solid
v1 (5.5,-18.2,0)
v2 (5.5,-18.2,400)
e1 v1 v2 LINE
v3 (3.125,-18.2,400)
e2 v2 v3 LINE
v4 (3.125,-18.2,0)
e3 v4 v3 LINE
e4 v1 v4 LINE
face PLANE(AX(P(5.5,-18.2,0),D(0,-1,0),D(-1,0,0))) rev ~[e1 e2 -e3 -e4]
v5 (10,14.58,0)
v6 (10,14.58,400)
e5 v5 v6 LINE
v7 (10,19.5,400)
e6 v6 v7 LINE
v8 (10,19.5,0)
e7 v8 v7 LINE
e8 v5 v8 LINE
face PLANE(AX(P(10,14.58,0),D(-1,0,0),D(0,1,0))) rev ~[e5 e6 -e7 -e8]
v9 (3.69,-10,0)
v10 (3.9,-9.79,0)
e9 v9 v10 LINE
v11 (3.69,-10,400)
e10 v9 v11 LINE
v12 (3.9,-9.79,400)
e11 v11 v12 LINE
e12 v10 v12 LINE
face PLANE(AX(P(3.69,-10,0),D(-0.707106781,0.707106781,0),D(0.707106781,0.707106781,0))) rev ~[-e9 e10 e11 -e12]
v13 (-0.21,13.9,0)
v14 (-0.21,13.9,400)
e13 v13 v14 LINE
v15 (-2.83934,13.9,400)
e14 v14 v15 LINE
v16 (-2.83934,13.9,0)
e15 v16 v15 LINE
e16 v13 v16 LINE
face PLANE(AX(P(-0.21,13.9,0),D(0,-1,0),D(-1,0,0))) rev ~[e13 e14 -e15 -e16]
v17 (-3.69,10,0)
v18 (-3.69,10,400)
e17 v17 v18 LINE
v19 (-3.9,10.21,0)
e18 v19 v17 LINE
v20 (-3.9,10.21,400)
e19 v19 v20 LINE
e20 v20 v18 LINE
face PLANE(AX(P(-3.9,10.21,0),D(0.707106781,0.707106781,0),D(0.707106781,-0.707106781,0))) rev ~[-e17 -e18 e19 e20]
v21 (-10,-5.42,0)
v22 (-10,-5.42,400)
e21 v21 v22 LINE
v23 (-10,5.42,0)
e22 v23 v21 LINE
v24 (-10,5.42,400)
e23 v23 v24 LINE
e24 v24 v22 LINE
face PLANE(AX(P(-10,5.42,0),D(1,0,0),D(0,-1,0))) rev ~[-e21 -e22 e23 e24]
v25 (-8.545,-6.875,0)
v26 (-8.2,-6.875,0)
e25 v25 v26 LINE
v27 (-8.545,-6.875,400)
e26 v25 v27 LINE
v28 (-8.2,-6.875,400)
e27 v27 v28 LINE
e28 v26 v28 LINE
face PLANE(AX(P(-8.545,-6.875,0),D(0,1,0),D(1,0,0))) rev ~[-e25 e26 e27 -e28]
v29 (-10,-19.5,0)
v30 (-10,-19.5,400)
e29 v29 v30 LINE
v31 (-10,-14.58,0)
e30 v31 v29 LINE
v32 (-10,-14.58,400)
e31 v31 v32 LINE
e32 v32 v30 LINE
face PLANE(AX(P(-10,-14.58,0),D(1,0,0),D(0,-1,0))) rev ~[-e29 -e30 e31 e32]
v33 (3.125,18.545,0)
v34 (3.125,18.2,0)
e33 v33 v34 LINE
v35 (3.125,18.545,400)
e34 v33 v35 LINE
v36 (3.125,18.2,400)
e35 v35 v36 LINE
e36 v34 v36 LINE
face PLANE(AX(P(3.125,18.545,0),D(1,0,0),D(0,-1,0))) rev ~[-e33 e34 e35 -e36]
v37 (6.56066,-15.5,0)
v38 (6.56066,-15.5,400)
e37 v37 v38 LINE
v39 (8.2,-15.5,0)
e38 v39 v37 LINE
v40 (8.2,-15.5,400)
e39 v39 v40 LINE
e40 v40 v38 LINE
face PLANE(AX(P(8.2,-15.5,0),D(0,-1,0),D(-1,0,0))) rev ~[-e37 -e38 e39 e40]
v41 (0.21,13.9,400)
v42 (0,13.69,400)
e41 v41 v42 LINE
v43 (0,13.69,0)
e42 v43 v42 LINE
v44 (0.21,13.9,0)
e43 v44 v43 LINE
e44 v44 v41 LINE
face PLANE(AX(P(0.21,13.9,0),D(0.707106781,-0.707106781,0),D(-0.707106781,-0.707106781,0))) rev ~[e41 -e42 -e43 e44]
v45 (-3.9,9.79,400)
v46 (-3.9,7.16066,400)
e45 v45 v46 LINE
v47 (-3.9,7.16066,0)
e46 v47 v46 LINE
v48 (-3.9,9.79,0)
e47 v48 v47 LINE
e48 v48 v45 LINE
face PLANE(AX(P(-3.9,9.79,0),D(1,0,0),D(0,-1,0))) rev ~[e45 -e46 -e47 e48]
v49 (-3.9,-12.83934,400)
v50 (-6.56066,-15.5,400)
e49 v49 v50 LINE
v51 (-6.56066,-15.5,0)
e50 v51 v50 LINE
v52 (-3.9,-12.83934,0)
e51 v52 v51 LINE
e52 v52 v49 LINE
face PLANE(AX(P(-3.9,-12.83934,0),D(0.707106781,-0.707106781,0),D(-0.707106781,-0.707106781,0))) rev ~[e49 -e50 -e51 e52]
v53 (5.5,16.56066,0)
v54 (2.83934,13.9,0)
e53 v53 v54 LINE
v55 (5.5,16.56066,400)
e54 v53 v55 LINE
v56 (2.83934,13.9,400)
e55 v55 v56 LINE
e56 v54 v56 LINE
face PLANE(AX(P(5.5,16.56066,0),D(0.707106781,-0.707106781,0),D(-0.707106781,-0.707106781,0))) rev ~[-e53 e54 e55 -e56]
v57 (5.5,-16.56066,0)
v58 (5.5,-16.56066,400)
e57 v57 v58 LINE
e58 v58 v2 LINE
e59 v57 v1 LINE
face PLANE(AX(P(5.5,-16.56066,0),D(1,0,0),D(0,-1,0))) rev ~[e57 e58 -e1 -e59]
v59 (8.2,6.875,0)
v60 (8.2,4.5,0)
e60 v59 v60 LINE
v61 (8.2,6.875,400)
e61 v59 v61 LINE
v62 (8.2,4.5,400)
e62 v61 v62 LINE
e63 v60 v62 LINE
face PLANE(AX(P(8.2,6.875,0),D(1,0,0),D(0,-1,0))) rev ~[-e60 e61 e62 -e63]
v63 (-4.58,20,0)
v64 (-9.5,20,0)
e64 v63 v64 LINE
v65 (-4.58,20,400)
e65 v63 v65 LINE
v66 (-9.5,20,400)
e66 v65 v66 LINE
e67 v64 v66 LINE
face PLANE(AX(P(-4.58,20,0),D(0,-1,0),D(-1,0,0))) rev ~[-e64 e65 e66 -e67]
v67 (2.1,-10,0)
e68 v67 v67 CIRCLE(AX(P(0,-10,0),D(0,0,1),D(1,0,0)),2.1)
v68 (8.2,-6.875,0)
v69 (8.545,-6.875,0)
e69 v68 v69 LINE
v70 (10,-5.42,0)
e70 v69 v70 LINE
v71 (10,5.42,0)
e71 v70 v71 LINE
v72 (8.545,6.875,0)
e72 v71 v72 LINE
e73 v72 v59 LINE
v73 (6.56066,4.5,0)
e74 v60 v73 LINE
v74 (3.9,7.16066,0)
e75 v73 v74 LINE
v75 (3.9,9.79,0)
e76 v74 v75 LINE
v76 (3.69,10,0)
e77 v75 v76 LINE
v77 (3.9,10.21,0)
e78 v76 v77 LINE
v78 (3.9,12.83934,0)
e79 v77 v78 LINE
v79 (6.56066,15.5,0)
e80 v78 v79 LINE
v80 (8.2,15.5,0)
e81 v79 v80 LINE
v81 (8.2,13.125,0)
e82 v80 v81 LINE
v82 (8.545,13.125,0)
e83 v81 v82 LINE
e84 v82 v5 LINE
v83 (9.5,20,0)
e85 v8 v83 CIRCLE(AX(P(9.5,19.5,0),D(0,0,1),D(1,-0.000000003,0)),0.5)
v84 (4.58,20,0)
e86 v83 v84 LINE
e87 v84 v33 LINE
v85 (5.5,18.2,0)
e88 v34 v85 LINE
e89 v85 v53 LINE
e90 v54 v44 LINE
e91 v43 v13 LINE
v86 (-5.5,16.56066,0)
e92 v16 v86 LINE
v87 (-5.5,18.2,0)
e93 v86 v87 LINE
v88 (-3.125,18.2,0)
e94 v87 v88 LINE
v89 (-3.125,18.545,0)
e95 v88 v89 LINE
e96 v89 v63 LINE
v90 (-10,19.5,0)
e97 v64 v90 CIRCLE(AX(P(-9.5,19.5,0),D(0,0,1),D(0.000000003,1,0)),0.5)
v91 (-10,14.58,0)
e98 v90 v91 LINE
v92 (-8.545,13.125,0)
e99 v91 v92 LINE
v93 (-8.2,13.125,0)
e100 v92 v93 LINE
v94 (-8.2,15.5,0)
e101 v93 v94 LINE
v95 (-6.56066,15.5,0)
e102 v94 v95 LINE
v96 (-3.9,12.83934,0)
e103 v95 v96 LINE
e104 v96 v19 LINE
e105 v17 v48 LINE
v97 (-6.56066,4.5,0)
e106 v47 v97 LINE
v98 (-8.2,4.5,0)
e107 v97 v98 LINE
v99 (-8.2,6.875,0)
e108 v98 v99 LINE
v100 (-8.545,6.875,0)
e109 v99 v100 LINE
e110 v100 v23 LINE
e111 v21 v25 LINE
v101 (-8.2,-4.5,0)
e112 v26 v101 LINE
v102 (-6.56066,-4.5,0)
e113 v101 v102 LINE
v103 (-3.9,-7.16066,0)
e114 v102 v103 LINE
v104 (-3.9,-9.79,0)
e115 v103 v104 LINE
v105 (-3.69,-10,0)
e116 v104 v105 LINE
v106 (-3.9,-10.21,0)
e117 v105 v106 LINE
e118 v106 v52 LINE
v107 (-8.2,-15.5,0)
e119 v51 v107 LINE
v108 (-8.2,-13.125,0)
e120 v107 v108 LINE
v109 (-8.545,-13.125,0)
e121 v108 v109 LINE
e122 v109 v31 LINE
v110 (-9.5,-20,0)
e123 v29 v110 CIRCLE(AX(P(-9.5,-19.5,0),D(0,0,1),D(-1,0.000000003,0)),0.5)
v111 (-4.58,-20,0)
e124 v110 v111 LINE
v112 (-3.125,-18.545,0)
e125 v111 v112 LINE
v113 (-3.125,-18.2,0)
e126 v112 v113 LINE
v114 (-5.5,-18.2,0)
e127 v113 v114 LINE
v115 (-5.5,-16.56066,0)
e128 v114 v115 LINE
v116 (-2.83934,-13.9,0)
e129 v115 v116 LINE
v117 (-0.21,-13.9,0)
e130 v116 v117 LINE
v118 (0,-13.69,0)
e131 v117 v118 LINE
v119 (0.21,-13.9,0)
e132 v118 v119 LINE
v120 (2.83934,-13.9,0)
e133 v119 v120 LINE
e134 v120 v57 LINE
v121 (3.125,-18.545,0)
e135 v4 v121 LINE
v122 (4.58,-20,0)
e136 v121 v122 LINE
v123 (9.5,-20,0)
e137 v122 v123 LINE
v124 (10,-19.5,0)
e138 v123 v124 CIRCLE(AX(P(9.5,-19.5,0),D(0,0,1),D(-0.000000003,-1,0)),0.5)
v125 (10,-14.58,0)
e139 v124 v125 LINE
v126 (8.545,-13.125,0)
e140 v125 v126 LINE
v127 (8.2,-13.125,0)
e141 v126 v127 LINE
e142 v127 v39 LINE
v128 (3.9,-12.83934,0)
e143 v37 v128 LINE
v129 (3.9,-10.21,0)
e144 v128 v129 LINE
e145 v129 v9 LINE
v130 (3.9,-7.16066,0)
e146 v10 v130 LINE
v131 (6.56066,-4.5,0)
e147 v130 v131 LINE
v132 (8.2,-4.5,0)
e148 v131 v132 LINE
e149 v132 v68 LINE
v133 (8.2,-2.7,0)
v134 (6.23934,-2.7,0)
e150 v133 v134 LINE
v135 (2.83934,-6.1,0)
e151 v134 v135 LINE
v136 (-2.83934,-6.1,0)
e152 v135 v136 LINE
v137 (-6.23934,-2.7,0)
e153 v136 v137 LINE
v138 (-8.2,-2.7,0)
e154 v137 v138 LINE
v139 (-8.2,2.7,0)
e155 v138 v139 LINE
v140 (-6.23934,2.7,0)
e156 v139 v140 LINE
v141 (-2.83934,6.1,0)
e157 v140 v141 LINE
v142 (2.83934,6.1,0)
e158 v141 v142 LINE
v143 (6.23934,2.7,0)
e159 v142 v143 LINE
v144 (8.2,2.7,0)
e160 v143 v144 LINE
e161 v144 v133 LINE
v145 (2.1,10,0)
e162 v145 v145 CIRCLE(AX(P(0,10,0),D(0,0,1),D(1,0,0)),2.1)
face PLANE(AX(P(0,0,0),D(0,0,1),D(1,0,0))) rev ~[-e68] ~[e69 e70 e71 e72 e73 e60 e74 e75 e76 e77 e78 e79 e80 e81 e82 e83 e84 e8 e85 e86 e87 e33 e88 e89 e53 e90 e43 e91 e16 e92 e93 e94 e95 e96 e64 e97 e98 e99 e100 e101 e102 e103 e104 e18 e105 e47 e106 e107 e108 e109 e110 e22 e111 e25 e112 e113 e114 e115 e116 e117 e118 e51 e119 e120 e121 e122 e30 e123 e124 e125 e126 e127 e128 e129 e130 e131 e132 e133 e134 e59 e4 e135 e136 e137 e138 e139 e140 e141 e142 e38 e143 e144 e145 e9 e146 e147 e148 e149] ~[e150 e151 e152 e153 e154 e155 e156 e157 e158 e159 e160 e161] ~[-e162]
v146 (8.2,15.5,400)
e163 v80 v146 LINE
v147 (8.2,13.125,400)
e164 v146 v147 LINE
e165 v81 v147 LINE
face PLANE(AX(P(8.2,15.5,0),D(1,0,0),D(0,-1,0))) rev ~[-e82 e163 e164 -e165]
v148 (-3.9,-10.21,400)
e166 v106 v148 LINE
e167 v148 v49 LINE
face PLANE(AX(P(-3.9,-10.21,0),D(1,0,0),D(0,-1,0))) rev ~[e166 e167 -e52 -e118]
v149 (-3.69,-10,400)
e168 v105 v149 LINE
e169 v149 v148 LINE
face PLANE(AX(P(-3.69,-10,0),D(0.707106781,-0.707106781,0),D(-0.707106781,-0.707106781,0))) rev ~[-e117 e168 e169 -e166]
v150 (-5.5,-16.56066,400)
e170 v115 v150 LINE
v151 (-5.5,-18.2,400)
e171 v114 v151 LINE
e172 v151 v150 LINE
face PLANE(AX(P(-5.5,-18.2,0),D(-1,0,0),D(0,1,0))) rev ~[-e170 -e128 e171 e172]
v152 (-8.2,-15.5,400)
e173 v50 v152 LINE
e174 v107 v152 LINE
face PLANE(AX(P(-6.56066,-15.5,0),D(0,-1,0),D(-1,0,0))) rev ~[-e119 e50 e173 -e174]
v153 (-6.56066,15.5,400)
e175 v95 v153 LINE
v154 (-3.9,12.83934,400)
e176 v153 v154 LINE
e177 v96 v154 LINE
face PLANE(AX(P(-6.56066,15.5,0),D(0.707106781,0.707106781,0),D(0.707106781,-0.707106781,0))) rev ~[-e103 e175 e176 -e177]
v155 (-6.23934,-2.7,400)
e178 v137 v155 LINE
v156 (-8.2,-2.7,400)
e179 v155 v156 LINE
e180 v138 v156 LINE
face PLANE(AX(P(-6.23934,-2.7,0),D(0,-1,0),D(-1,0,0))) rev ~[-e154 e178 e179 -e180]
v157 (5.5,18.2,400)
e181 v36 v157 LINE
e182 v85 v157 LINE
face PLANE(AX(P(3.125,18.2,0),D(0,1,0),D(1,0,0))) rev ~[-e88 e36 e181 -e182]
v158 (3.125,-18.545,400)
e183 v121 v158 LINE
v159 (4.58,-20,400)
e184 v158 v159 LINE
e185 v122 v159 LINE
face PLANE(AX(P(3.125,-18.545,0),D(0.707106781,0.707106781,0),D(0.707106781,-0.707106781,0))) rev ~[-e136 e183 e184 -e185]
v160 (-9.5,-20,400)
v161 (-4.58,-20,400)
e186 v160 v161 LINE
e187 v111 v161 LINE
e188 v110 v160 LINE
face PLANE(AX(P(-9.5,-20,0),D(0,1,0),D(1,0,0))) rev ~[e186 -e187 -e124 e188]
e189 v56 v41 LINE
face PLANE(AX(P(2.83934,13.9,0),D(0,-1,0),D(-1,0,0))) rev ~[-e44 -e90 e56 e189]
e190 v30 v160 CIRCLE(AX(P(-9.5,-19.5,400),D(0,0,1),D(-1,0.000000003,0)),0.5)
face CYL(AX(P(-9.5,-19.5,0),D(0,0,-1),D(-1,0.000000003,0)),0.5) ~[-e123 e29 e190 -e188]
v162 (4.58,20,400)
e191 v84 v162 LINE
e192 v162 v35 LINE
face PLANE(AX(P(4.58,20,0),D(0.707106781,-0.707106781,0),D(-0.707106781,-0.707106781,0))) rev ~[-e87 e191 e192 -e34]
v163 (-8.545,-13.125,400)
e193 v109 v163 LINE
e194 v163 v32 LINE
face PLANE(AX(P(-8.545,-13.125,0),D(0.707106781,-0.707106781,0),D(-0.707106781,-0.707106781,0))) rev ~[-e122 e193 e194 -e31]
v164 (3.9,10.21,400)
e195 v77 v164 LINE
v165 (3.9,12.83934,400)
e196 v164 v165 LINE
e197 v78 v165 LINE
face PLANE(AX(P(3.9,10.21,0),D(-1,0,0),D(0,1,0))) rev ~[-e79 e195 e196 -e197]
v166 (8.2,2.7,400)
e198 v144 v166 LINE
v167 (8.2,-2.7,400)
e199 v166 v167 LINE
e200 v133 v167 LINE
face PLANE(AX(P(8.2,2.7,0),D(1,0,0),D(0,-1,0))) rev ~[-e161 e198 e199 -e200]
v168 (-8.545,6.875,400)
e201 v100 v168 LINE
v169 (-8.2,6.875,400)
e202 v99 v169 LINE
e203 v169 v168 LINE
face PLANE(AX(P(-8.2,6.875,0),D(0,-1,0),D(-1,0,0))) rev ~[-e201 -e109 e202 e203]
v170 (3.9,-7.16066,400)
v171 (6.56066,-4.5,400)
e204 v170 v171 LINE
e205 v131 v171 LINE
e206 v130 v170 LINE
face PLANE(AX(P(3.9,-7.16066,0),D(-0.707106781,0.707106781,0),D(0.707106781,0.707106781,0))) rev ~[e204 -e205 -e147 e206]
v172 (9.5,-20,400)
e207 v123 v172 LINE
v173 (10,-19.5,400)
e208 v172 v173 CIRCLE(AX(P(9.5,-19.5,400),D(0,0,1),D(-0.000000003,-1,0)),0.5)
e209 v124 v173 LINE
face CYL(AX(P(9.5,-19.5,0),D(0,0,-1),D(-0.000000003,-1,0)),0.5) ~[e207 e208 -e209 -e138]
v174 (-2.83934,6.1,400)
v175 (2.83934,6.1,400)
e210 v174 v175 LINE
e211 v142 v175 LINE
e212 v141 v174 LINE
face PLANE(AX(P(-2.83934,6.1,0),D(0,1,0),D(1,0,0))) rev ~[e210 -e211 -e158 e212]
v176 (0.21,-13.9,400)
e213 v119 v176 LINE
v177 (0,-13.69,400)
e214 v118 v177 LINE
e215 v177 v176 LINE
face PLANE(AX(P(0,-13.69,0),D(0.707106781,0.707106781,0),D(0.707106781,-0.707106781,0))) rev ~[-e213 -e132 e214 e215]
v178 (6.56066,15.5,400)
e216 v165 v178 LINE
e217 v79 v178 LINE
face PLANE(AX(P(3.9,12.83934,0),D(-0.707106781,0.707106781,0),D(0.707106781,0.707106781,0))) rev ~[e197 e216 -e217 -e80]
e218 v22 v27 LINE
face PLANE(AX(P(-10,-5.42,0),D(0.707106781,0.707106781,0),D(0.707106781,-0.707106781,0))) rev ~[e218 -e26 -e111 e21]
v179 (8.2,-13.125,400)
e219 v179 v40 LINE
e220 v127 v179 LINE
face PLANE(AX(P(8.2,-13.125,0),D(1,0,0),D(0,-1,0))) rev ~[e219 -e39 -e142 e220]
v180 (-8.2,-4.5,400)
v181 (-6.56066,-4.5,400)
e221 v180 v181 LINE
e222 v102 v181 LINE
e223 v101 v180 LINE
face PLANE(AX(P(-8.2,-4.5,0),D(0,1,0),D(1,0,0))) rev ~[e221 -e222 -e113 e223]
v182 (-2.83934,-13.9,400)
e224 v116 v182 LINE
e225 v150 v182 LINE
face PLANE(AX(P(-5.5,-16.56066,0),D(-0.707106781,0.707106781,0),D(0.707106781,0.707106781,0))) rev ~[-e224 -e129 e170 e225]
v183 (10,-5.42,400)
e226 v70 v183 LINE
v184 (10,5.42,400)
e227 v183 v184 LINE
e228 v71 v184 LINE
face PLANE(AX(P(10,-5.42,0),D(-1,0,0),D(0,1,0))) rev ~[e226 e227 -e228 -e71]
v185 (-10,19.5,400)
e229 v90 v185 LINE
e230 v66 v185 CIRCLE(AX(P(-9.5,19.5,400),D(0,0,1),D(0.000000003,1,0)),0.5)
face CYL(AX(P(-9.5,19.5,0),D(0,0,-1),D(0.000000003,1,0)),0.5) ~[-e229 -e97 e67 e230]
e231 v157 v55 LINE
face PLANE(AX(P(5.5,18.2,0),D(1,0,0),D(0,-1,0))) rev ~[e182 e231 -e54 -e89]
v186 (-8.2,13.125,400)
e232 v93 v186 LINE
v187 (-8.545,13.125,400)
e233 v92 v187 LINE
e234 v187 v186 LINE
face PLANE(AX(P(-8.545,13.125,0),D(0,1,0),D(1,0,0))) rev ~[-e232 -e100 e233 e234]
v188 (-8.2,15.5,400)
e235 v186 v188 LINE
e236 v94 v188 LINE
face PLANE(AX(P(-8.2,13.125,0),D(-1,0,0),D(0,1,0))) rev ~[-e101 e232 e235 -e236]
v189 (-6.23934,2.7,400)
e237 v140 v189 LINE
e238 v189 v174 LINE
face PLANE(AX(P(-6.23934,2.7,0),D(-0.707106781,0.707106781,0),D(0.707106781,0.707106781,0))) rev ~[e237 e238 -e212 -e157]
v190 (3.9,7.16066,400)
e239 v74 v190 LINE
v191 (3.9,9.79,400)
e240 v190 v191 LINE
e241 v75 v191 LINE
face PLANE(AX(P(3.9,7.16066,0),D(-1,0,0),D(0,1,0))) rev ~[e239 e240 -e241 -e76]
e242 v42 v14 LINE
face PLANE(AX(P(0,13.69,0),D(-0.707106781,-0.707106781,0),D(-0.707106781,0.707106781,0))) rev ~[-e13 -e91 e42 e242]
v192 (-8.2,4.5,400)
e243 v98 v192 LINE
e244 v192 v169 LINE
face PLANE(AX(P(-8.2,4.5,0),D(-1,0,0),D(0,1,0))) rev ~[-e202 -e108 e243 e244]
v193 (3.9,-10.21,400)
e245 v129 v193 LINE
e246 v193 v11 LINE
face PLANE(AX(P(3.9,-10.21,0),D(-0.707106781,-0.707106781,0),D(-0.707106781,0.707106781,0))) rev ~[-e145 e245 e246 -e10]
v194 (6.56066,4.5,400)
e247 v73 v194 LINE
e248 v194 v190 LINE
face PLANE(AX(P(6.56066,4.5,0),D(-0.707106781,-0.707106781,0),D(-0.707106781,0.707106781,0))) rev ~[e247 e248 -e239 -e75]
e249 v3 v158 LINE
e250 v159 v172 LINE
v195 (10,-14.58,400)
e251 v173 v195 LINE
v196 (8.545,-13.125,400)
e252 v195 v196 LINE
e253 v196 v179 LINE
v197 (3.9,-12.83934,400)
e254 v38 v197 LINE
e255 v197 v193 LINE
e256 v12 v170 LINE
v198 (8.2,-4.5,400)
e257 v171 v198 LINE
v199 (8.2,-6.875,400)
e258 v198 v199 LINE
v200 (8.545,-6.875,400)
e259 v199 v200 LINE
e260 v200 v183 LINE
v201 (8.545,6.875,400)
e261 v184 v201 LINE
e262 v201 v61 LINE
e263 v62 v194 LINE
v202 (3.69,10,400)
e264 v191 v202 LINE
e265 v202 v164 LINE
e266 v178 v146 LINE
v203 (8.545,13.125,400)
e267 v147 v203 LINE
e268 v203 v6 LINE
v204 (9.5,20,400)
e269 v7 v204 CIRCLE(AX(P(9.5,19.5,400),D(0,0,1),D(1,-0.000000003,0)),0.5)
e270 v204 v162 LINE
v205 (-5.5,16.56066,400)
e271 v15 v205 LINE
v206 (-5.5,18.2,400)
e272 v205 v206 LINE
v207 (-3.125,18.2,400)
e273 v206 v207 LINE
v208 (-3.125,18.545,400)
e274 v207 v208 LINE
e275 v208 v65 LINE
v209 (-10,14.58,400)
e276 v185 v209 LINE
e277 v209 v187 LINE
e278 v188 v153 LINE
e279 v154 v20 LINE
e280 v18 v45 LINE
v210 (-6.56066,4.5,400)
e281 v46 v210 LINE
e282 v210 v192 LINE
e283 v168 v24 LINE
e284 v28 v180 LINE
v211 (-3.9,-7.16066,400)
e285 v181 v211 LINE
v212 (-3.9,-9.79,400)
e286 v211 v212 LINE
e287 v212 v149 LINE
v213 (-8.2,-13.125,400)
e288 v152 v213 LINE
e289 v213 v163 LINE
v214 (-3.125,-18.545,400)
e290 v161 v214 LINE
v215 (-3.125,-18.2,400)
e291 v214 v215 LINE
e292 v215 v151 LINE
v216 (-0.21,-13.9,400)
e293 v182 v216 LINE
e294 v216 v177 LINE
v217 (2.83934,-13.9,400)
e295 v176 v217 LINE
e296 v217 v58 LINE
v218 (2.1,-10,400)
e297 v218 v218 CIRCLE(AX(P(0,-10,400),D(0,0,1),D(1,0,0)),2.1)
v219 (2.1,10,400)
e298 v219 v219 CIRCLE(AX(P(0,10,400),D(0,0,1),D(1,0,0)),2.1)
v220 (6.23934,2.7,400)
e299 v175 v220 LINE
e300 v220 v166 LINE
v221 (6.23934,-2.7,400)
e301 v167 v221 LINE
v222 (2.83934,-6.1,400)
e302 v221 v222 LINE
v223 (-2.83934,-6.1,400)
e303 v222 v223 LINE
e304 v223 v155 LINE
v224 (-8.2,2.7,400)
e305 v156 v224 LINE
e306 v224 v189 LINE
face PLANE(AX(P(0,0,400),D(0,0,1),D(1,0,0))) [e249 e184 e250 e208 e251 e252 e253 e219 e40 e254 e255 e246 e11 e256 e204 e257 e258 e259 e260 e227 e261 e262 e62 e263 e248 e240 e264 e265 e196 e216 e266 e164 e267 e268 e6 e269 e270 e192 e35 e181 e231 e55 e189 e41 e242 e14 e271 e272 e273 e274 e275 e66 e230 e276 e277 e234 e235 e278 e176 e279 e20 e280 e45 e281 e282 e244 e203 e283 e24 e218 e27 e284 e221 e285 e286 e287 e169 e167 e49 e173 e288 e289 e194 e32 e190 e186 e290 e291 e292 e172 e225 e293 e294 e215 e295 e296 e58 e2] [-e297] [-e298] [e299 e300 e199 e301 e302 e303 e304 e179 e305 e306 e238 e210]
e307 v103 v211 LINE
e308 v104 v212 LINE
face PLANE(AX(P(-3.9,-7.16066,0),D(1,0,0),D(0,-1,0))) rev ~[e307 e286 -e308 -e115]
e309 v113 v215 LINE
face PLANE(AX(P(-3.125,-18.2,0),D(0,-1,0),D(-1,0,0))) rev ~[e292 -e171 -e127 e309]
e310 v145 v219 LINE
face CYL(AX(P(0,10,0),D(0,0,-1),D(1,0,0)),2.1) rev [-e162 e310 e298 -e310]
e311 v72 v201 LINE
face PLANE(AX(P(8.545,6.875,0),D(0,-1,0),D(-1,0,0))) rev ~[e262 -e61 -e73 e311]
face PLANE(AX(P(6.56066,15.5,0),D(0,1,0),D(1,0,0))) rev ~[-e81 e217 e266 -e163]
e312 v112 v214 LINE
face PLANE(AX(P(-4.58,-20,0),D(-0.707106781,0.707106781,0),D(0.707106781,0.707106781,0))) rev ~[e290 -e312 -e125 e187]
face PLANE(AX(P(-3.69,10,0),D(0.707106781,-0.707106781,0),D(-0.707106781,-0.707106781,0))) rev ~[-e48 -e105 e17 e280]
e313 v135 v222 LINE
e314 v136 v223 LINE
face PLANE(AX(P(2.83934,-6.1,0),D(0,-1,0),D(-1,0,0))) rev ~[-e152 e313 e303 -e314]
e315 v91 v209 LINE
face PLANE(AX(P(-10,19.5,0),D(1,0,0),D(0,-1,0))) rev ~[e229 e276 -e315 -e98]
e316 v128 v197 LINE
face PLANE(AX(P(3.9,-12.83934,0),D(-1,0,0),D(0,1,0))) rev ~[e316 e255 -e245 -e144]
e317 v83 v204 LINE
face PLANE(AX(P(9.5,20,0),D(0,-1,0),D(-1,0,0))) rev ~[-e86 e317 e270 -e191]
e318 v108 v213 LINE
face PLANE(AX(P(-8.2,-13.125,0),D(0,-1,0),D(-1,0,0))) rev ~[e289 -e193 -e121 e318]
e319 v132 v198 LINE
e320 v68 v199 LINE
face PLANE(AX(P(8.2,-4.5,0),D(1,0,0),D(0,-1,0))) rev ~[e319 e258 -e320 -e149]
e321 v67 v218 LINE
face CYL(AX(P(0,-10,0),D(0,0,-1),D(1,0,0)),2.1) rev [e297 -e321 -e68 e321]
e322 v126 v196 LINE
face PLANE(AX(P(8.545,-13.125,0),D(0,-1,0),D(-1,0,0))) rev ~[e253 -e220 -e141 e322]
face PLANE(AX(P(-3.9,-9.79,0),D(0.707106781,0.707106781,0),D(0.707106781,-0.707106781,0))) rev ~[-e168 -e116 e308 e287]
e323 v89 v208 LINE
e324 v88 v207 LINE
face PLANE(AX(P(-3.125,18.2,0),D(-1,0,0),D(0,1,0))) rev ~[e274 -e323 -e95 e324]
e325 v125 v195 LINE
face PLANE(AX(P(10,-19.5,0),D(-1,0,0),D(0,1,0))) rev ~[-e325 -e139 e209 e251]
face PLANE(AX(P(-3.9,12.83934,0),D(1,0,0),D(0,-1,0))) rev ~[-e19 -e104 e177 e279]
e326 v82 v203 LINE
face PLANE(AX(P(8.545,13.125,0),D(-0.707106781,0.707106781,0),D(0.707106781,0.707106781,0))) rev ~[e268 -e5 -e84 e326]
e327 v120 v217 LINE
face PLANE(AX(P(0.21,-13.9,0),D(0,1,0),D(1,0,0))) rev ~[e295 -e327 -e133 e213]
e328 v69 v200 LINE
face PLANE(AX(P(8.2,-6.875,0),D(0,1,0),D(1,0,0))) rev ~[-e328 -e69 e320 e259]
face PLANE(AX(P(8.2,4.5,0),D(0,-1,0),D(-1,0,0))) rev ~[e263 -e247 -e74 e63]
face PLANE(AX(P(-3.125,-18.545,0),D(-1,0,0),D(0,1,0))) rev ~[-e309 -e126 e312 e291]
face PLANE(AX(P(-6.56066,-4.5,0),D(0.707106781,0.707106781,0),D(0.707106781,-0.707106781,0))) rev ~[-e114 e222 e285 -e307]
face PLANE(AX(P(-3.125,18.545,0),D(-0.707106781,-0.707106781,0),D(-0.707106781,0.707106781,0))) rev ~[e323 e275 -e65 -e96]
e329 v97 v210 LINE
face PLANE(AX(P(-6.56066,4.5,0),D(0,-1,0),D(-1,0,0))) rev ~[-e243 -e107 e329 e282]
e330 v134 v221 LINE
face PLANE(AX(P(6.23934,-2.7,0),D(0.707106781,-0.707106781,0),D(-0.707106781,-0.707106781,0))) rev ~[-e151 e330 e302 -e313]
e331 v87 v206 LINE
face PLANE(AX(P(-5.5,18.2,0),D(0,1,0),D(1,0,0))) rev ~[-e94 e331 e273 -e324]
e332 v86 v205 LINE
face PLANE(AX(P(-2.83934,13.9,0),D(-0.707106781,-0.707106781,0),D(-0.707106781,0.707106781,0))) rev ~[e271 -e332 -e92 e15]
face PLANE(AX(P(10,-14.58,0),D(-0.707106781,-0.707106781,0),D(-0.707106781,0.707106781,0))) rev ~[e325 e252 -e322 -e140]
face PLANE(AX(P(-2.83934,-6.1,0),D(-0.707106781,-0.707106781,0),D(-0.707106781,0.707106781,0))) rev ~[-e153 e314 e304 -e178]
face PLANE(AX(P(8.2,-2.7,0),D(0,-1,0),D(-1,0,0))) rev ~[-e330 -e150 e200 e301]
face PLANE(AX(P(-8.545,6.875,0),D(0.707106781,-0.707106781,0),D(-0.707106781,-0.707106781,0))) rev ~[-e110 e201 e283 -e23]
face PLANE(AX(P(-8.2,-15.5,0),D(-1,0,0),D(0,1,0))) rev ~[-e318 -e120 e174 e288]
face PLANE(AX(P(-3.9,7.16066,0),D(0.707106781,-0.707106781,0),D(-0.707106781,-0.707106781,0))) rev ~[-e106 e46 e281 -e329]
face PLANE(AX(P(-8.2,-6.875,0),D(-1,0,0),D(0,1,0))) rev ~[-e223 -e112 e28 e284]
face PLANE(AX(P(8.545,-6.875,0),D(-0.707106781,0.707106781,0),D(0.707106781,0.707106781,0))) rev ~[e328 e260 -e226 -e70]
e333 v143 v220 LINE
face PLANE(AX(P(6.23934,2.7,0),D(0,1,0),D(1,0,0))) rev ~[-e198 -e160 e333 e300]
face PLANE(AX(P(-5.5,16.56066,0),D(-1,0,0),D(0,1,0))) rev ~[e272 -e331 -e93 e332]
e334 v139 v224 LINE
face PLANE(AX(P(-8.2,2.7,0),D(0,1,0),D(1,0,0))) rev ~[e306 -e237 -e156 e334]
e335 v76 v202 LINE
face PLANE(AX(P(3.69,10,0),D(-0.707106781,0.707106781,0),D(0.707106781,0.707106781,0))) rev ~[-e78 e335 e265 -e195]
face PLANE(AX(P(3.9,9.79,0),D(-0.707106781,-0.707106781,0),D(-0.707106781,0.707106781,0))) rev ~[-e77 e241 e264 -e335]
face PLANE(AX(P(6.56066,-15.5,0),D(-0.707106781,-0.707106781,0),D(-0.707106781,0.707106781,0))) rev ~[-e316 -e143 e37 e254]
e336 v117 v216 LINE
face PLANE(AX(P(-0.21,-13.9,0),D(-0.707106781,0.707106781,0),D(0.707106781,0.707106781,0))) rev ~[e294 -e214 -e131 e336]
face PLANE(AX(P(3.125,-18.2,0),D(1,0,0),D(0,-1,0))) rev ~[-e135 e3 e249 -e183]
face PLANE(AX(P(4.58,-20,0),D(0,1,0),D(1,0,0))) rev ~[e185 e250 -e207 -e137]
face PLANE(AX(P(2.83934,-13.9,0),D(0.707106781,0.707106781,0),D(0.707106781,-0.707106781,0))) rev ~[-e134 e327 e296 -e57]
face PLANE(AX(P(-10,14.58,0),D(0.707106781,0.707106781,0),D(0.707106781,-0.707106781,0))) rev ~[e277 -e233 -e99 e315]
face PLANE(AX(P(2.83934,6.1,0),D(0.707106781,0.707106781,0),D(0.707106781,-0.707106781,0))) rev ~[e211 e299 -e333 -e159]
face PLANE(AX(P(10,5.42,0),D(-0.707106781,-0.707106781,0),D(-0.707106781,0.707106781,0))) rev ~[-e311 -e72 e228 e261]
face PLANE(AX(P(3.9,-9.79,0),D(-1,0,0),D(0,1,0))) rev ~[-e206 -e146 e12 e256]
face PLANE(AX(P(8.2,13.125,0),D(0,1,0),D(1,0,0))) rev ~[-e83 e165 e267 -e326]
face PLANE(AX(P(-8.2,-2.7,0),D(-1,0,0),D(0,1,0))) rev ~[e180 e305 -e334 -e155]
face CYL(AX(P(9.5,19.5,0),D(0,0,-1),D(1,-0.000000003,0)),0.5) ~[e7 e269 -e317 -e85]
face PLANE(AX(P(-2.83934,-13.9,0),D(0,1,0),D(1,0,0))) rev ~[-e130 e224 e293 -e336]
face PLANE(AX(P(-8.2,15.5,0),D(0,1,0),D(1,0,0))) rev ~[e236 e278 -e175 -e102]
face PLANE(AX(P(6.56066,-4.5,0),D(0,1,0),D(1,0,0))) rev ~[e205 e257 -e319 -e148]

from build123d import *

# Parameters (mm, degrees)
SKETCH1_R           = 2.1
BOSS_EXTRUDE1_DEPTH = 400


with BuildPart() as part:
    # Sketch1 → Boss-Extrude1 (new body)
    with BuildSketch(Plane.XY):
        with BuildLine():
            Line((4.58, -20), (9.5, -20))
            ThreePointArc((9.5, -20), (9.853553391, -19.853553391), (10, -19.5))
            Line((10, -19.5), (10, -14.58))
            Line((10, -14.58), (8.545, -13.125))
            Line((8.545, -13.125), (8.2, -13.125))
            Line((8.2, -13.125), (8.2, -15.5))
            Line((8.2, -15.5), (6.560660172, -15.5))
            Line((6.560660172, -15.5), (3.9, -12.839339828))
            Line((3.9, -12.839339828), (3.9, -10.21))
            Line((3.9, -10.21), (3.69, -10))
            Line((3.69, -10), (3.9, -9.79))
            Line((3.9, -9.79), (3.9, -7.160660172))
            Line((3.9, -7.160660172), (6.560660172, -4.5))
            Line((6.560660172, -4.5), (8.2, -4.5))
            Line((8.2, -4.5), (8.2, -6.875))
            Line((8.2, -6.875), (8.545, -6.875))
            Line((8.545, -6.875), (10, -5.42))
            Line((10, -5.42), (10, 5.42))
            Line((10, 5.42), (8.545, 6.875))
            Line((8.545, 6.875), (8.2, 6.875))
            Line((8.2, 6.875), (8.2, 4.5))
            Line((8.2, 4.5), (6.560660172, 4.5))
            Line((6.560660172, 4.5), (3.9, 7.160660172))
            Line((3.9, 7.160660172), (3.9, 9.79))
            Line((3.9, 9.79), (3.69, 10))
            Line((3.69, 10), (3.9, 10.21))
            Line((3.9, 10.21), (3.9, 12.839339828))
            Line((3.9, 12.839339828), (6.560660172, 15.5))
            Line((6.560660172, 15.5), (8.2, 15.5))
            Line((8.2, 15.5), (8.2, 13.125))
            Line((8.2, 13.125), (8.545, 13.125))
            Line((8.545, 13.125), (10, 14.58))
            Line((10, 14.58), (10, 19.5))
            ThreePointArc((10, 19.5), (9.853553391, 19.853553391), (9.5, 20))
            Line((9.5, 20), (4.58, 20))
            Line((4.58, 20), (3.125, 18.545))
            Line((3.125, 18.545), (3.125, 18.2))
            Line((3.125, 18.2), (5.5, 18.2))
            Line((5.5, 18.2), (5.5, 16.560660172))
            Line((5.5, 16.560660172), (2.839339828, 13.9))
            Line((2.839339828, 13.9), (0.21, 13.9))
            Line((0.21, 13.9), (0, 13.69))
            Line((0, 13.69), (-0.21, 13.9))
            Line((-0.21, 13.9), (-2.839339828, 13.9))
            Line((-2.839339828, 13.9), (-5.5, 16.560660172))
            Line((-5.5, 16.560660172), (-5.5, 18.2))
            Line((-5.5, 18.2), (-3.125, 18.2))
            Line((-3.125, 18.2), (-3.125, 18.545))
            Line((-3.125, 18.545), (-4.58, 20))
            Line((-4.58, 20), (-9.5, 20))
            ThreePointArc((-9.5, 20), (-9.853553391, 19.853553391), (-10, 19.5))
            Line((-10, 19.5), (-10, 14.58))
            Line((-10, 14.58), (-8.545, 13.125))
            Line((-8.545, 13.125), (-8.2, 13.125))
            Line((-8.2, 13.125), (-8.2, 15.5))
            Line((-8.2, 15.5), (-6.560660172, 15.5))
            Line((-6.560660172, 15.5), (-3.9, 12.839339828))
            Line((-3.9, 12.839339828), (-3.9, 10.21))
            Line((-3.9, 10.21), (-3.69, 10))
            Line((-3.69, 10), (-3.9, 9.79))
            Line((-3.9, 9.79), (-3.9, 7.160660172))
            Line((-3.9, 7.160660172), (-6.560660172, 4.5))
            Line((-6.560660172, 4.5), (-8.2, 4.5))
            Line((-8.2, 4.5), (-8.2, 6.875))
            Line((-8.2, 6.875), (-8.545, 6.875))
            Line((-8.545, 6.875), (-10, 5.42))
            Line((-10, 5.42), (-10, -5.42))
            Line((-10, -5.42), (-8.545, -6.875))
            Line((-8.545, -6.875), (-8.2, -6.875))
            Line((-8.2, -6.875), (-8.2, -4.5))
            Line((-8.2, -4.5), (-6.560660172, -4.5))
            Line((-6.560660172, -4.5), (-3.9, -7.160660172))
            Line((-3.9, -7.160660172), (-3.9, -9.79))
            Line((-3.9, -9.79), (-3.69, -10))
            Line((-3.69, -10), (-3.9, -10.21))
            Line((-3.9, -10.21), (-3.9, -12.839339828))
            Line((-3.9, -12.839339828), (-6.560660172, -15.5))
            Line((-6.560660172, -15.5), (-8.2, -15.5))
            Line((-8.2, -15.5), (-8.2, -13.125))
            Line((-8.2, -13.125), (-8.545, -13.125))
            Line((-8.545, -13.125), (-10, -14.58))
            Line((-10, -14.58), (-10, -19.5))
            ThreePointArc((-10, -19.5), (-9.853553391, -19.853553391), (-9.5, -20))
            Line((-9.5, -20), (-4.58, -20))
            Line((-4.58, -20), (-3.125, -18.545))
            Line((-3.125, -18.545), (-3.125, -18.2))
            Line((-3.125, -18.2), (-5.5, -18.2))
            Line((-5.5, -18.2), (-5.5, -16.560660172))
            Line((-5.5, -16.560660172), (-2.839339828, -13.9))
            Line((-2.839339828, -13.9), (-0.21, -13.9))
            Line((-0.21, -13.9), (0, -13.69))
            Line((0, -13.69), (0.21, -13.9))
            Line((0.21, -13.9), (2.839339828, -13.9))
            Line((2.839339828, -13.9), (5.5, -16.560660172))
            Line((5.5, -16.560660172), (5.5, -18.2))
            Line((5.5, -18.2), (3.125, -18.2))
            Line((3.125, -18.2), (3.125, -18.545))
            Line((3.125, -18.545), (4.58, -20))
        make_face()
        with Locations((0, -10)):
            Circle(SKETCH1_R, mode=Mode.SUBTRACT)
        Polygon((-6.239339828, -2.7), (-8.2, -2.7), (-8.2, 2.7), (-6.239339828, 2.7), (-2.839339828, 6.1), (2.839339828, 6.1), (6.239339828, 2.7), (8.2, 2.7), (8.2, -2.7), (6.239339828, -2.7), (2.839339828, -6.1), (-2.839339828, -6.1), align=None, mode=Mode.SUBTRACT)
        with Locations((0, 10)):
            Circle(SKETCH1_R, mode=Mode.SUBTRACT)
    extrude(amount=BOSS_EXTRUDE1_DEPTH)


solid = part.part
